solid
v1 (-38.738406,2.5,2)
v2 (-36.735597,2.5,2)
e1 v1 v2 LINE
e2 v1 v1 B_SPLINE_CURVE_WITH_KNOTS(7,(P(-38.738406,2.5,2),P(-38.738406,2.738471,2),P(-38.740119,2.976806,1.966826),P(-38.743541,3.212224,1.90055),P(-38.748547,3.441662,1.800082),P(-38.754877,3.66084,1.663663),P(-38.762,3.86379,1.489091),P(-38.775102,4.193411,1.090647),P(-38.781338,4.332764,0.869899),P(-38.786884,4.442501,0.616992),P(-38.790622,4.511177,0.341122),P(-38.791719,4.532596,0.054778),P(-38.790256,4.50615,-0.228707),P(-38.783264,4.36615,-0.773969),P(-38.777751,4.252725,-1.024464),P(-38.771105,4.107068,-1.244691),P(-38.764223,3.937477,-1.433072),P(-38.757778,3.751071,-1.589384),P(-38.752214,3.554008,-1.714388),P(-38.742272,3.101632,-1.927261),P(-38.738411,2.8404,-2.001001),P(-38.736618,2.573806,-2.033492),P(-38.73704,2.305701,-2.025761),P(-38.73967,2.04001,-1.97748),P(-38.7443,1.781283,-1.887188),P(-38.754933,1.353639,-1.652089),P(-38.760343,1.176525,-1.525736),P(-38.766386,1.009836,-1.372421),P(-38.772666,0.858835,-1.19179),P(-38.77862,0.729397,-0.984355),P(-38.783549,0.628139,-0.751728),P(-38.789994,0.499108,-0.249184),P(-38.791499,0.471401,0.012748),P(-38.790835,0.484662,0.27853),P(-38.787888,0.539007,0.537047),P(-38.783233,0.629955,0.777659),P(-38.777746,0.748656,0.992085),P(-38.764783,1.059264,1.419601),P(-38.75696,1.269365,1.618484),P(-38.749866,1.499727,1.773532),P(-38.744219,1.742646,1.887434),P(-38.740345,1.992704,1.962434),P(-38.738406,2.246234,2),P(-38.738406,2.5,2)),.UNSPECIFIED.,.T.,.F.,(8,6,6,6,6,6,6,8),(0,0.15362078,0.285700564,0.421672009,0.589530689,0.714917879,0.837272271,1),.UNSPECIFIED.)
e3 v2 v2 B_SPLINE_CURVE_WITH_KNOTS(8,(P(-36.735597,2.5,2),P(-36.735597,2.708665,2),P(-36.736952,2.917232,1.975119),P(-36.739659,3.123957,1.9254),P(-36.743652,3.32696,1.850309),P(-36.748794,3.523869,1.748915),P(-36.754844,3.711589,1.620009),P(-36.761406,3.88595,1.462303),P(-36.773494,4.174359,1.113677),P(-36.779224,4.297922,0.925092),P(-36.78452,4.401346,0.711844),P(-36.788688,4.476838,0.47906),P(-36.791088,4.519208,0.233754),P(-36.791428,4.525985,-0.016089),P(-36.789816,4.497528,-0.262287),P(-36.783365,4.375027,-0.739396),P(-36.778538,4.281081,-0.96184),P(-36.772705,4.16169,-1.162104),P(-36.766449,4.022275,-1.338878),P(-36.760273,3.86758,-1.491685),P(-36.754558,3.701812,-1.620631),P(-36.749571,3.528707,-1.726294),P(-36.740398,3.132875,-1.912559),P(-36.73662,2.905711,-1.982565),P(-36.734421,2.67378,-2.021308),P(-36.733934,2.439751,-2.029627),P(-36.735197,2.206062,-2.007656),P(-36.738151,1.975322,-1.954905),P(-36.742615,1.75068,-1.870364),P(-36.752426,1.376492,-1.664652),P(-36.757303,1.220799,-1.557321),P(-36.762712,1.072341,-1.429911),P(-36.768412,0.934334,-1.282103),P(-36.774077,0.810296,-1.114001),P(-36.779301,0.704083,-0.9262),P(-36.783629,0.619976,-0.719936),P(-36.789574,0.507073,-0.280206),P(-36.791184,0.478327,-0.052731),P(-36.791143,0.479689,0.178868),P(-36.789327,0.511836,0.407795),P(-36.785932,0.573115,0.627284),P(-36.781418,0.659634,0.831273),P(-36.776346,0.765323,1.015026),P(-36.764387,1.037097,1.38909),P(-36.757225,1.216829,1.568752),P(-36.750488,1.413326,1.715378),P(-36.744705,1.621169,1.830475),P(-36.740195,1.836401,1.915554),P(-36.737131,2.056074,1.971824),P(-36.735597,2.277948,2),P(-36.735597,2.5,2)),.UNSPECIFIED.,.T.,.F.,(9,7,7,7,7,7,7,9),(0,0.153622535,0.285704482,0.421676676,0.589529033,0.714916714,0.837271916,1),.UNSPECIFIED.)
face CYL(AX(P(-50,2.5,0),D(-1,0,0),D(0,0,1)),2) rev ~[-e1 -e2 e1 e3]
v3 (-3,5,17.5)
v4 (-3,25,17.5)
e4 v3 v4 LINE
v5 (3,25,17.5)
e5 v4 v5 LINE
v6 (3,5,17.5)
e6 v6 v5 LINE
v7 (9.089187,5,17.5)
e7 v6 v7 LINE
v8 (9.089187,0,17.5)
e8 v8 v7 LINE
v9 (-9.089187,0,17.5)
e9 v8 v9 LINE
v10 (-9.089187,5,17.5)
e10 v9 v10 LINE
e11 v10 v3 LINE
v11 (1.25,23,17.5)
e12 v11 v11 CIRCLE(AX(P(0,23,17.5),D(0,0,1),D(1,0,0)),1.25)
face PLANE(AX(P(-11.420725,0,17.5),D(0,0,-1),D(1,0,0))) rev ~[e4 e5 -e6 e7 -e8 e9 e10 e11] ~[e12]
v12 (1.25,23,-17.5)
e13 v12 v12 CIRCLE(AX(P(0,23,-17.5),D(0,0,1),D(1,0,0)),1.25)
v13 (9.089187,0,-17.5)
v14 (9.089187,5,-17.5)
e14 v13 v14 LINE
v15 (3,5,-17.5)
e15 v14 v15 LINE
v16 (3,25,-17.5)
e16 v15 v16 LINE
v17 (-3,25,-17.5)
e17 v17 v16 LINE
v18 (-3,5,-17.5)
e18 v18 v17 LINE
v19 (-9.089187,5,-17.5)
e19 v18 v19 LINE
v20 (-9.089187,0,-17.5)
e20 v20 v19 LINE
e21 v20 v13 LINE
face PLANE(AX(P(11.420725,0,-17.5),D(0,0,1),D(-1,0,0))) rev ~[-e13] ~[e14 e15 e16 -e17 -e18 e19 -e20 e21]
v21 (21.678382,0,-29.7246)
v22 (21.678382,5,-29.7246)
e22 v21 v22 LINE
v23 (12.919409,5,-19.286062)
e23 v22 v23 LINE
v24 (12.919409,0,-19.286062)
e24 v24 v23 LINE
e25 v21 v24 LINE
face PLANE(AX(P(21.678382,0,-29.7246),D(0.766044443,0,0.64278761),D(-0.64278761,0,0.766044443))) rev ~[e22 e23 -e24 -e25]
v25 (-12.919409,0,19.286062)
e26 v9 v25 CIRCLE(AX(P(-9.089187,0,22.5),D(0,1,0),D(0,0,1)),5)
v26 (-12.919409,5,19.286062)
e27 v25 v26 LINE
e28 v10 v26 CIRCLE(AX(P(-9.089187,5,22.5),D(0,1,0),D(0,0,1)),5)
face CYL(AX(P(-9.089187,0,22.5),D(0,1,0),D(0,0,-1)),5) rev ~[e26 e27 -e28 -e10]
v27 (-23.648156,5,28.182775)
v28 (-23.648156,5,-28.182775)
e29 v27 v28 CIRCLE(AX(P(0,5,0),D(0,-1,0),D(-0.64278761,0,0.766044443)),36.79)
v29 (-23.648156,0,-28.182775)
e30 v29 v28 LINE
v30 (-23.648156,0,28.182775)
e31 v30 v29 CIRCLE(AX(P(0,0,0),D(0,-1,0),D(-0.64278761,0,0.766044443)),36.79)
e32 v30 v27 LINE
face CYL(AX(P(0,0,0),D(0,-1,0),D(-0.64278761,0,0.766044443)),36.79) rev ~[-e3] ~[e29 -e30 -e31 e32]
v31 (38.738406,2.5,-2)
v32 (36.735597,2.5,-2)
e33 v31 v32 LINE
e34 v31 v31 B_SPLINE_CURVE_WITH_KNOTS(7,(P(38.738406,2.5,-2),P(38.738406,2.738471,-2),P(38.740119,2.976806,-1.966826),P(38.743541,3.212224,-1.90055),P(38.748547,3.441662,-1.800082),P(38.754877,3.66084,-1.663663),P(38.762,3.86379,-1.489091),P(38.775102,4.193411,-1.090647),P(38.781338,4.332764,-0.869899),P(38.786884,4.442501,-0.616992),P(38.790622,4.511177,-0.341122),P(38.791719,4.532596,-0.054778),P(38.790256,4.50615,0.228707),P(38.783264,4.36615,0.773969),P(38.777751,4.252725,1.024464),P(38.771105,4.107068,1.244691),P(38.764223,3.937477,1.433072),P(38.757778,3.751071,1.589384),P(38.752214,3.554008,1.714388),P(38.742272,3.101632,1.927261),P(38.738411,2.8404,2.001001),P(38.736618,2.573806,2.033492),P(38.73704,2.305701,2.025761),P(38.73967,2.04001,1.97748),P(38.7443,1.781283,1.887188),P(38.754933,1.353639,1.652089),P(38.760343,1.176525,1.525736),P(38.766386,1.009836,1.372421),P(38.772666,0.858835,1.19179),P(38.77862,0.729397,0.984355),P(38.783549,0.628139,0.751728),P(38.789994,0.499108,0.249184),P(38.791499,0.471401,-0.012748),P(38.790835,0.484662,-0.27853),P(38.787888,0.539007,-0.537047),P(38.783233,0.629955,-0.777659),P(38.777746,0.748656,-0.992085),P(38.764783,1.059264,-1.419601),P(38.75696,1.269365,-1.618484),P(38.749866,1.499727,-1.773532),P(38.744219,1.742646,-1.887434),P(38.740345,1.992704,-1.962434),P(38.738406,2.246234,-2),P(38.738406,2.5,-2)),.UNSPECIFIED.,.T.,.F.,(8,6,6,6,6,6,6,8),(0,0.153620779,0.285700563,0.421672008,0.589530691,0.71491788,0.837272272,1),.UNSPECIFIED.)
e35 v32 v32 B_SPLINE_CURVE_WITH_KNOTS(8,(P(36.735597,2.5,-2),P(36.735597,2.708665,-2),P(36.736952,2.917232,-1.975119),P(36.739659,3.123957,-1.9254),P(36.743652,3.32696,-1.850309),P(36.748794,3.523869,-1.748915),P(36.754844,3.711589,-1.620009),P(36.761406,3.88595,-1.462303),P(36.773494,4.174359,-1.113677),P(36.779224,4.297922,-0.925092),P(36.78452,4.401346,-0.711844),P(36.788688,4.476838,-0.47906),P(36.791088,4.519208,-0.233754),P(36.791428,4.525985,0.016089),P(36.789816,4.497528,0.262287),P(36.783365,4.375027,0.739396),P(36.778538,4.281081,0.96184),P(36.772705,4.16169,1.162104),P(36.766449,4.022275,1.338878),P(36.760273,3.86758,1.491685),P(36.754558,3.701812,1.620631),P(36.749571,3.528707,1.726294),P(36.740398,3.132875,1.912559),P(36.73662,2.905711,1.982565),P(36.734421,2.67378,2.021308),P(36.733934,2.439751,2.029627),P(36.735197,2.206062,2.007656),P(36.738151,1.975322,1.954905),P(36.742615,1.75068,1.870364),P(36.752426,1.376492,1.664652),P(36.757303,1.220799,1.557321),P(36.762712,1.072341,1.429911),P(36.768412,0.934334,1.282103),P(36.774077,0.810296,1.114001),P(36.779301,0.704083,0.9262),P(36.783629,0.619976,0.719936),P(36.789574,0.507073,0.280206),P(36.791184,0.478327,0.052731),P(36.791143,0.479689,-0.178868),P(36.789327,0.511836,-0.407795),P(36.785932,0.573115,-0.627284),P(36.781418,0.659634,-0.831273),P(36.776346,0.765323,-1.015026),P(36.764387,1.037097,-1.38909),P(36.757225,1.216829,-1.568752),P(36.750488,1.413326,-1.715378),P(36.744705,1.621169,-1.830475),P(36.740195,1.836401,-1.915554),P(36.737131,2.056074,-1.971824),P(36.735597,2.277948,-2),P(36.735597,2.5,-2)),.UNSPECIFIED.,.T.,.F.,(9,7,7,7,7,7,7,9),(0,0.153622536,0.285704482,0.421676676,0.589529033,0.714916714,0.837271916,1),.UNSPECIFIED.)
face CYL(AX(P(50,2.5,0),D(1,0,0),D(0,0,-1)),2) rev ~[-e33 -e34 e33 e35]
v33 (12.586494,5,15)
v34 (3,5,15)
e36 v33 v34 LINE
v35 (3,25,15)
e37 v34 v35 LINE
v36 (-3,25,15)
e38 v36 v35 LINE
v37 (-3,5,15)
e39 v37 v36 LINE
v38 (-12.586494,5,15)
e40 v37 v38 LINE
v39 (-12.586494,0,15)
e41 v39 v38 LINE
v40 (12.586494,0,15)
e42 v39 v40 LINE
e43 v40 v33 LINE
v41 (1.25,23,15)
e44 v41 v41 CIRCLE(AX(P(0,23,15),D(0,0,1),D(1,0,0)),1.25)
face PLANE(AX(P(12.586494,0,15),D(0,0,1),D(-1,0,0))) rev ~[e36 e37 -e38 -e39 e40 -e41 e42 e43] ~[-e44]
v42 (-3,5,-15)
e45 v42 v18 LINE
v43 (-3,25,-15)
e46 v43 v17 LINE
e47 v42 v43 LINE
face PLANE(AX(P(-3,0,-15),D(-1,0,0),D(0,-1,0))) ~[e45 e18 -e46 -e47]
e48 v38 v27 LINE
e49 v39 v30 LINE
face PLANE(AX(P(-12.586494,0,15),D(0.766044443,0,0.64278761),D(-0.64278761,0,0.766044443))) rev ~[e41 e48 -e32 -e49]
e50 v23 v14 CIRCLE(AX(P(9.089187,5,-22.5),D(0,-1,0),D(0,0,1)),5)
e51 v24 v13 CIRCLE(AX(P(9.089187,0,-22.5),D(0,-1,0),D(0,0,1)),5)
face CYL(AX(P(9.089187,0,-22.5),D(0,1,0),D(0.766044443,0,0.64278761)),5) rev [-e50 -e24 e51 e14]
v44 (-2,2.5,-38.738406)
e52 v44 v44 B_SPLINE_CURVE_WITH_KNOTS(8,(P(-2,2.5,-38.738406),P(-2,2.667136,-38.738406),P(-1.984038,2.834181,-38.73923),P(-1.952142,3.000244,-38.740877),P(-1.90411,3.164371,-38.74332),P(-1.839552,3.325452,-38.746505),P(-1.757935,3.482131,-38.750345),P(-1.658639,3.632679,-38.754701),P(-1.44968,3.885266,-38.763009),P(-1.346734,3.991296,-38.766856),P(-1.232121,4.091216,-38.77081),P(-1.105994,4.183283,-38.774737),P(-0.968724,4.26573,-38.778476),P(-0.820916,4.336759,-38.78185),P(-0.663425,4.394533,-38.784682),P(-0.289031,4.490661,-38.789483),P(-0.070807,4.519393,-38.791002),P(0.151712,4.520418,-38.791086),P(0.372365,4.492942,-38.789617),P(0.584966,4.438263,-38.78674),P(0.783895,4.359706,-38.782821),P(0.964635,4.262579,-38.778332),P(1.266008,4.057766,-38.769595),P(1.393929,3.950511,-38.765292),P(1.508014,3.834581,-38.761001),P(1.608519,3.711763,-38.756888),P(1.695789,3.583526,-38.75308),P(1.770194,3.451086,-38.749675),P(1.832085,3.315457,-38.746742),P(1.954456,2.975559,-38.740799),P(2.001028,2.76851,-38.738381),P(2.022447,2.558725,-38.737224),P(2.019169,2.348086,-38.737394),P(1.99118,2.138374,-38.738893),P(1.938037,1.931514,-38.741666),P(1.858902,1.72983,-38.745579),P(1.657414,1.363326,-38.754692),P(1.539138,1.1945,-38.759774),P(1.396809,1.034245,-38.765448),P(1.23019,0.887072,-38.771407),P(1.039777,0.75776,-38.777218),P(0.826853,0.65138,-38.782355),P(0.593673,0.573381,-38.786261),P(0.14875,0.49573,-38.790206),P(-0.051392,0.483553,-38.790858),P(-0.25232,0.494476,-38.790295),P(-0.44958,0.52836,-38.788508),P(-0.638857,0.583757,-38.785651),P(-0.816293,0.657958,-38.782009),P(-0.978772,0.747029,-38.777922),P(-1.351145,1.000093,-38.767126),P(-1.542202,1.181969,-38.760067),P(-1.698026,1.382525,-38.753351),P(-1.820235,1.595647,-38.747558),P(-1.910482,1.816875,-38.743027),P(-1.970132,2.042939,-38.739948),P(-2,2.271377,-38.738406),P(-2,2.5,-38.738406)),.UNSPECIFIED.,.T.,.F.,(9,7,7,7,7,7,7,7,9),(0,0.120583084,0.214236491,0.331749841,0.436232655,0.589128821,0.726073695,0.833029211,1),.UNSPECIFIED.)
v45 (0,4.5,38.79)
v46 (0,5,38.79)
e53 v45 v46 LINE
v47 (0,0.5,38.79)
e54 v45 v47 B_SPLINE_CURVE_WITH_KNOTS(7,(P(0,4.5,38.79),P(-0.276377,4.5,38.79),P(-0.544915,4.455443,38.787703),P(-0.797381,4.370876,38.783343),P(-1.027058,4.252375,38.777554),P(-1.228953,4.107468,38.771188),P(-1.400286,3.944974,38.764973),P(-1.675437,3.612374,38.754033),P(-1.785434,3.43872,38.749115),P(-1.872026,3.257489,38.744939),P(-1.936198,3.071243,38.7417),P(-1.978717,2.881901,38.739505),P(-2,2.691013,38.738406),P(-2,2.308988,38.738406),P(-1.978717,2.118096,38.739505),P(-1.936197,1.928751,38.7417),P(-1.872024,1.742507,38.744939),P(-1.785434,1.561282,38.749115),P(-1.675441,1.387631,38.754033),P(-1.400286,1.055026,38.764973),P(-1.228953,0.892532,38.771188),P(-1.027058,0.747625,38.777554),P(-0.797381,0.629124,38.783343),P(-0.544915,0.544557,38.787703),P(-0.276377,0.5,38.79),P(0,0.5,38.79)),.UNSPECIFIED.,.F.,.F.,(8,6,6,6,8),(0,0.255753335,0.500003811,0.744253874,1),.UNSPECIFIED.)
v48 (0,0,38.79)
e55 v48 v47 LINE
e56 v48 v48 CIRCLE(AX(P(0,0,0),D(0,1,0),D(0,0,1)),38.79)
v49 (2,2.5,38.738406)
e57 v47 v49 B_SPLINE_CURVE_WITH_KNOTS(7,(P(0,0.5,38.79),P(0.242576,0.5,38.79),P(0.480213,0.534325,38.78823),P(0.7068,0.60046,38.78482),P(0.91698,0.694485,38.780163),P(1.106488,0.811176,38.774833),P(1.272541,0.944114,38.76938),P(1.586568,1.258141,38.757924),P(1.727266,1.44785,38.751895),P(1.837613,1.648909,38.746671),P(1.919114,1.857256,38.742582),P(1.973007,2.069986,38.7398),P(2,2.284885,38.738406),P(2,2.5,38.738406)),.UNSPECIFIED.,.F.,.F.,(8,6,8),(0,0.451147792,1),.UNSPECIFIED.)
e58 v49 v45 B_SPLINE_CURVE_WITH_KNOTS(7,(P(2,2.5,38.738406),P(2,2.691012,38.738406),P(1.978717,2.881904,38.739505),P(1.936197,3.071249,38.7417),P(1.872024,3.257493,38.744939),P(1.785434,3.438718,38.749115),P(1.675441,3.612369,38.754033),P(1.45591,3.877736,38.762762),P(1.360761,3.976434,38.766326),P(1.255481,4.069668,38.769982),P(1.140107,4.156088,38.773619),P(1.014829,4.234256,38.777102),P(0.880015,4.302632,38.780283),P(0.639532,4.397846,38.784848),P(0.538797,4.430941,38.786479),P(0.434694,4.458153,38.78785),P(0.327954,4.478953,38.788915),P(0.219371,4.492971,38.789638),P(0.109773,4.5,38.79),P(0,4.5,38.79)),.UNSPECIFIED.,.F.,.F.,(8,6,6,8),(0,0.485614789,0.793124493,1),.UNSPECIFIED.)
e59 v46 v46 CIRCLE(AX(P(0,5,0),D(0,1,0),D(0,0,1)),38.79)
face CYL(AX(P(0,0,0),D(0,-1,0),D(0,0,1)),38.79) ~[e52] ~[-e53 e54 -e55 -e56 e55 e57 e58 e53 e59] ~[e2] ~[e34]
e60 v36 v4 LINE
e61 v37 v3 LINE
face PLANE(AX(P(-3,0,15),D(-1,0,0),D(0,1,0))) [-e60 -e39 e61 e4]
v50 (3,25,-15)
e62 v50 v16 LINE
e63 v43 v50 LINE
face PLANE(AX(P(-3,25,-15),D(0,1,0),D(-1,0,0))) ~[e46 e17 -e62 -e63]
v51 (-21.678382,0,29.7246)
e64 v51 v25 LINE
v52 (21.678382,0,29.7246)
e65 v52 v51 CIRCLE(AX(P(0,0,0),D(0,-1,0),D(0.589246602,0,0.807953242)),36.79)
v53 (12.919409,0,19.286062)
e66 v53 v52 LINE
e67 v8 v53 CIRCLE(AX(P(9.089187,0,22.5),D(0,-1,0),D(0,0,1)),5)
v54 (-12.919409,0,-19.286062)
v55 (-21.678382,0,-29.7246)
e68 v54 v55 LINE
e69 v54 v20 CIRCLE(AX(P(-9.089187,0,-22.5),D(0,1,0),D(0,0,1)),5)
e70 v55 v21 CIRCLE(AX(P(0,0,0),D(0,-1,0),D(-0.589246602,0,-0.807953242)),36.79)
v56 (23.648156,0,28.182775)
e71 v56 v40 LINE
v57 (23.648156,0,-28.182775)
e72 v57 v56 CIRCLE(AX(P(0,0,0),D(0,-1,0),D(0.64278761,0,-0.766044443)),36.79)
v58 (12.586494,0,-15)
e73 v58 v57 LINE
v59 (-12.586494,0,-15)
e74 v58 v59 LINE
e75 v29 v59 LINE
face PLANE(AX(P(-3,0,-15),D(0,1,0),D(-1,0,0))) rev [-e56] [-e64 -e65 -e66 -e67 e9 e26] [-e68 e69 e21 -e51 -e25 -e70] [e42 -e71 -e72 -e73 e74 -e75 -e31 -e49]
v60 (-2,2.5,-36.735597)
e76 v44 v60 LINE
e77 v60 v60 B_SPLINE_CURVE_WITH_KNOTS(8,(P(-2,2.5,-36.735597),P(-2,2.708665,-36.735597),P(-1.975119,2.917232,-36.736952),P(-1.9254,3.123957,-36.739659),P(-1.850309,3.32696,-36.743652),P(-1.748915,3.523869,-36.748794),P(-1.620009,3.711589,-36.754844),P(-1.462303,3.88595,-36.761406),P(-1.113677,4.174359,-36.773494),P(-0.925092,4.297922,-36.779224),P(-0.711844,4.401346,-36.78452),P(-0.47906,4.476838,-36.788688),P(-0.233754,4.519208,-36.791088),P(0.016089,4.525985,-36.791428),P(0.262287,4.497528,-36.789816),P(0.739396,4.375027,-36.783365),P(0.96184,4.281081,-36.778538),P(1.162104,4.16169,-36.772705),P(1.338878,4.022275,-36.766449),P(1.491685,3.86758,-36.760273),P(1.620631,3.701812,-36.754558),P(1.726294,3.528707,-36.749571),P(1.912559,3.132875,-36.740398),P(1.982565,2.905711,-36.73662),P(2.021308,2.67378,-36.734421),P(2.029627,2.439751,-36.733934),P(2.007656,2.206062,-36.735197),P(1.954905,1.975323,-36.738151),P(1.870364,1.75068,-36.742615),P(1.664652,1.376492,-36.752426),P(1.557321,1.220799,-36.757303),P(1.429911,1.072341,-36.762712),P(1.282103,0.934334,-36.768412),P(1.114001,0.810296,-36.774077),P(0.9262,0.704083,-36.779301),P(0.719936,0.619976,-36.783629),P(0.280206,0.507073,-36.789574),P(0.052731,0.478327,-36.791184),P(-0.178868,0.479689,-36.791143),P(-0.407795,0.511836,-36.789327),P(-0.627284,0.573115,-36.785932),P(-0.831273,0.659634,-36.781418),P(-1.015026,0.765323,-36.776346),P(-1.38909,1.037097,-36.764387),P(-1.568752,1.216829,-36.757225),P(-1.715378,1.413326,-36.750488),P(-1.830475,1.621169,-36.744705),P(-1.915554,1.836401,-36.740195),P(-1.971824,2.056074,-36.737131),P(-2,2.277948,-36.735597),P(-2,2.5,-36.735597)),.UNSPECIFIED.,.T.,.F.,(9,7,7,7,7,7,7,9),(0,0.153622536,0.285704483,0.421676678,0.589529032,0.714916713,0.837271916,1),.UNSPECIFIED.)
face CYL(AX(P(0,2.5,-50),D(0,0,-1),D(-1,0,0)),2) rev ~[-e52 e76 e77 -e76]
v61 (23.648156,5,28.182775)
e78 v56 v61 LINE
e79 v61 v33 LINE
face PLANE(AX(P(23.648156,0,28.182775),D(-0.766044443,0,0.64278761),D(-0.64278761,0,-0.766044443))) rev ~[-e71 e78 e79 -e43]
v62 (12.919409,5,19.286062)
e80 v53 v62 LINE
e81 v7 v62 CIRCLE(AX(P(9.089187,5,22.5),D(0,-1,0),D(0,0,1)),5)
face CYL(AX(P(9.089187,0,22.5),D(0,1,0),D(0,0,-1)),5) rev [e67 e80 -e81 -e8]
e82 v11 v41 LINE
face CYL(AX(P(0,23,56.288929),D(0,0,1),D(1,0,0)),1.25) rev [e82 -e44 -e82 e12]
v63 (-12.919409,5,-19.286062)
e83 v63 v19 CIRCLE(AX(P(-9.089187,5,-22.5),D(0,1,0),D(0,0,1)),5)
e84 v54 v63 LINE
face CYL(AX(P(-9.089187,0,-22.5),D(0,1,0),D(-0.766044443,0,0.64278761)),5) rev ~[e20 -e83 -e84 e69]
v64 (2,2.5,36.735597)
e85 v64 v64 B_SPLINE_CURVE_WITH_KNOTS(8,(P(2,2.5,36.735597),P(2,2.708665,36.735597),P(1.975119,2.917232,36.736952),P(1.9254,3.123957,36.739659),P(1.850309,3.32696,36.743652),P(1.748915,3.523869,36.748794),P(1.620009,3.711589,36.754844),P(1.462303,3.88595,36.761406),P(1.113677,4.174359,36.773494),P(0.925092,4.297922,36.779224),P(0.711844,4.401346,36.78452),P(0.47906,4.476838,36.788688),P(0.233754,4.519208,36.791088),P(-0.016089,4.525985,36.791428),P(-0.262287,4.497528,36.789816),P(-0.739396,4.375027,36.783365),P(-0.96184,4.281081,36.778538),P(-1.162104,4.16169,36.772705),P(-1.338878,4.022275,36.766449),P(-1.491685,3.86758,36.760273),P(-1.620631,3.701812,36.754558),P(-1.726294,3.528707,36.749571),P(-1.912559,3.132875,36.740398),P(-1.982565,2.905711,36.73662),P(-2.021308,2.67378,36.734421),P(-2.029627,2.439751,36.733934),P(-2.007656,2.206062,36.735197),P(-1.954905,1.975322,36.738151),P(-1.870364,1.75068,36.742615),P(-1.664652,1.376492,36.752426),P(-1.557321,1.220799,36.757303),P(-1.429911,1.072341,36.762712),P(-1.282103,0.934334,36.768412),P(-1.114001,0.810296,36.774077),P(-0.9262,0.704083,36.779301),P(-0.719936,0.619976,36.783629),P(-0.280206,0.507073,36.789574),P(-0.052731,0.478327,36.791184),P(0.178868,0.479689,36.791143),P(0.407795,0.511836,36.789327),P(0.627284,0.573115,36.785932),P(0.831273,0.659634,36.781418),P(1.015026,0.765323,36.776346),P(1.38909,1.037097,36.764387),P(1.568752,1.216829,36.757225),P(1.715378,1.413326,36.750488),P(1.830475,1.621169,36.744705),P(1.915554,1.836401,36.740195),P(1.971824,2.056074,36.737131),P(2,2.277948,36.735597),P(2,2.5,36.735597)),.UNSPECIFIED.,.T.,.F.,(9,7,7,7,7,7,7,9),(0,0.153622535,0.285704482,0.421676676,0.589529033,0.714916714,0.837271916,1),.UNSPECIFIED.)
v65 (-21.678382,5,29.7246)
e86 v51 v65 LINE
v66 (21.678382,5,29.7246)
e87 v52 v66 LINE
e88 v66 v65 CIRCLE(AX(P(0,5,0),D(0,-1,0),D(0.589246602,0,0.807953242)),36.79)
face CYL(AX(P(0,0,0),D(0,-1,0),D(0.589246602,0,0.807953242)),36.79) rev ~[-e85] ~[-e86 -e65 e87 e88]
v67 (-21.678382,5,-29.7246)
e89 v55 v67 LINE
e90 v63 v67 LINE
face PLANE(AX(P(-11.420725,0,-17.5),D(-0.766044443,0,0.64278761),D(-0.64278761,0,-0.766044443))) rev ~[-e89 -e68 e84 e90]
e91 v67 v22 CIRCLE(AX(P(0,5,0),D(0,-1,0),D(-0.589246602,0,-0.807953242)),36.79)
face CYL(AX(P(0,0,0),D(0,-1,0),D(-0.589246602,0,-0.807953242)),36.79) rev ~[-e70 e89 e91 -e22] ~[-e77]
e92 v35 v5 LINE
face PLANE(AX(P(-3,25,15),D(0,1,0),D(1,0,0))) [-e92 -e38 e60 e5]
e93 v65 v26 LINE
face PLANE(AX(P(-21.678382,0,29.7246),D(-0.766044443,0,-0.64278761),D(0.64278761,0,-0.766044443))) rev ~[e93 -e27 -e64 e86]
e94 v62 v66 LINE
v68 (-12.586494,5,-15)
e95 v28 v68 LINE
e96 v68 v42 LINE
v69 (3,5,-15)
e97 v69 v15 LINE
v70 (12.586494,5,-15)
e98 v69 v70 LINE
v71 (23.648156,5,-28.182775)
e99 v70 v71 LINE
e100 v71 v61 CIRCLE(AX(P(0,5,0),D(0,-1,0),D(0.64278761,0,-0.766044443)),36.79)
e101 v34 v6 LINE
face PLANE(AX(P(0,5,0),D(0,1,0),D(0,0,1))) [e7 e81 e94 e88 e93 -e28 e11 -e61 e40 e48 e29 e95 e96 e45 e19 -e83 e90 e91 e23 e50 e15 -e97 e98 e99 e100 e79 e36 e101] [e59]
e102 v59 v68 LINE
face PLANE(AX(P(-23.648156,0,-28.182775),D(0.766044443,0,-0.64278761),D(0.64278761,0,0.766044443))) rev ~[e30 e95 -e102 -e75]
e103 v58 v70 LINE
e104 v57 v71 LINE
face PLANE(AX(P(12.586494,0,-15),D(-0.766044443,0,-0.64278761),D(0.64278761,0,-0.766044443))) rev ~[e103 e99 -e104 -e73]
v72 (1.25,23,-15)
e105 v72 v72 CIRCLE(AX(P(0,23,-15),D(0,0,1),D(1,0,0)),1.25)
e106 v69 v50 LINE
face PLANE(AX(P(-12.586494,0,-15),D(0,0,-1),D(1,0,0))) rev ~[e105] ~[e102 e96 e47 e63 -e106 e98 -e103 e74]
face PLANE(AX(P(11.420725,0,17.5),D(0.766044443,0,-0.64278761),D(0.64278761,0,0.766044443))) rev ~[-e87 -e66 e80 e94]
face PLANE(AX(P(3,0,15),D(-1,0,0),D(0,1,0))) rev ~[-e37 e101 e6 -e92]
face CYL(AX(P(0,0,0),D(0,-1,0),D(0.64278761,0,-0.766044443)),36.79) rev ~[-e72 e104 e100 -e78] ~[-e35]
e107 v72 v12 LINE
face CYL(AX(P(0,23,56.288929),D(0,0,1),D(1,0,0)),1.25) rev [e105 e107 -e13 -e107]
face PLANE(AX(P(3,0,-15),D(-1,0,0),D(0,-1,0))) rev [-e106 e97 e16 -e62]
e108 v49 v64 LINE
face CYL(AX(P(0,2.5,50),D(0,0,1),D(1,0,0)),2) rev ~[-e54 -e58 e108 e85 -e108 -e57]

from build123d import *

# Parameters (mm, degrees)
CROQUIS2_R                 = 38.79
SALIENTE_EXTRUIR1_DEPTH    = 5
CROQUIS4_W                 = 6
CROQUIS4_H                 = 25
SALIENTE_EXTRUIR3_DEPTH    = 2.5
CORTAR_EXTRUIR1_DEPTH      = 73.788929103
CORTAR_EXTRUIR1_DEPTH_BACK = 73.788929103
CROQUIS5_R                 = 1.25
REDONDEO1_R                = 5
CORTAR_EXTRUIR2_START      = 50
CROQUIS6_R                 = 2
CORTAR_EXTRUIR2_DEPTH      = 17
MATRIZC1_COUNT             = 4


with BuildPart() as part:
    # Croquis2 → Saliente-Extruir1 (new body)
    with BuildSketch(Plane(origin=(0, 0, 0), x_dir=(1, 0, 0), z_dir=(0, 1, 0))):
        with Locations(Location((0, 0, 0), (0, 0, 270))):
            Circle(CROQUIS2_R)
        with BuildLine():
            Line((-12.586494468, 15), (12.586494468, 15))
            Line((12.586494468, 15), (23.64815616, 28.182775062))
            ThreePointArc((23.64815616, 28.182775062), (36.79, 0), (23.64815616, -28.182775062))
            Line((23.64815616, -28.182775062), (12.586494468, -15))
            Line((12.586494468, -15), (-12.586494468, -15))
            Line((-12.586494468, -15), (-23.64815616, -28.182775062))
            ThreePointArc((-23.64815616, -28.182775062), (-36.79, 0), (-23.64815616, 28.182775062))
            Line((-23.64815616, 28.182775062), (-12.586494468, 15))
        make_face(mode=Mode.SUBTRACT)
        with BuildLine():
            Line((-11.420725322, 17.5), (-21.678382494, 29.724599786))
            ThreePointArc((-21.678382494, 29.724599786), (0, 36.79), (21.678382494, 29.724599786))
            Line((21.678382494, 29.724599786), (11.420725322, 17.5))
            Line((11.420725322, 17.5), (-11.420725322, 17.5))
        make_face(mode=Mode.SUBTRACT)
        with BuildLine():
            ThreePointArc((21.678382494, -29.724599786), (0, -36.79), (-21.678382494, -29.724599786))
            Line((-21.678382494, -29.724599786), (-11.420725322, -17.5))
            Line((-11.420725322, -17.5), (11.420725322, -17.5))
            Line((11.420725322, -17.5), (21.678382494, -29.724599786))
        make_face(mode=Mode.SUBTRACT)
    extrude(amount=SALIENTE_EXTRUIR1_DEPTH)

    # Croquis4 → Saliente-Extruir3 (add)
    with BuildSketch(Plane.XY.offset(15)):
        with Locations((0, 12.5)):
            Rectangle(CROQUIS4_W, CROQUIS4_H)
    saliente_extruir3 = extrude(amount=SALIENTE_EXTRUIR3_DEPTH)

    # Simetría1: Saliente-Extruir3 across plane
    add(saliente_extruir3.mirror(Plane.XY))

    # Croquis5 → Cortar-Extruir1 (cut, two sides: drawn at the far end of the back side and taken through both)
    with BuildSketch(Plane(origin=(0, 0, -17.5), x_dir=(-1, 0, 0), z_dir=(0, 0, -1)).offset(-CORTAR_EXTRUIR1_DEPTH_BACK)):
        with Locations(Location((0, 23, 0), (0, 0, 180))):
            Circle(CROQUIS5_R)
    extrude(amount=CORTAR_EXTRUIR1_DEPTH + CORTAR_EXTRUIR1_DEPTH_BACK, mode=Mode.SUBTRACT)

    # Redondeo1
    redondeo1_edges = [part.edges().sort_by_distance(p)[0] for p in [
        (-11.420725322, 2.5, -17.5),
        (11.420725322, 2.5, -17.5),
        (11.420725322, 2.5, 17.5),
        (-11.420725322, 2.5, 17.5),
    ]]
    fillet(redondeo1_edges, radius=REDONDEO1_R)

    # Croquis6 → Cortar-Extruir2 (cut)
    with BuildSketch(Plane.XY.offset(CORTAR_EXTRUIR2_START)):
        with Locations((0, 2.5)):
            Circle(CROQUIS6_R)
    cortar_extruir2 = extrude(amount=-CORTAR_EXTRUIR2_DEPTH, mode=Mode.SUBTRACT)

    # MatrizC1: Cortar-Extruir2 ×4 about axis
    matrizc1_axis = Axis((0, 0, 0), (0, -1, 0))
    for i in range(1, MATRIZC1_COUNT):
        add(cortar_extruir2.rotate(matrizc1_axis, i * 360 / MATRIZC1_COUNT), mode=Mode.SUBTRACT)


solid = part.part
